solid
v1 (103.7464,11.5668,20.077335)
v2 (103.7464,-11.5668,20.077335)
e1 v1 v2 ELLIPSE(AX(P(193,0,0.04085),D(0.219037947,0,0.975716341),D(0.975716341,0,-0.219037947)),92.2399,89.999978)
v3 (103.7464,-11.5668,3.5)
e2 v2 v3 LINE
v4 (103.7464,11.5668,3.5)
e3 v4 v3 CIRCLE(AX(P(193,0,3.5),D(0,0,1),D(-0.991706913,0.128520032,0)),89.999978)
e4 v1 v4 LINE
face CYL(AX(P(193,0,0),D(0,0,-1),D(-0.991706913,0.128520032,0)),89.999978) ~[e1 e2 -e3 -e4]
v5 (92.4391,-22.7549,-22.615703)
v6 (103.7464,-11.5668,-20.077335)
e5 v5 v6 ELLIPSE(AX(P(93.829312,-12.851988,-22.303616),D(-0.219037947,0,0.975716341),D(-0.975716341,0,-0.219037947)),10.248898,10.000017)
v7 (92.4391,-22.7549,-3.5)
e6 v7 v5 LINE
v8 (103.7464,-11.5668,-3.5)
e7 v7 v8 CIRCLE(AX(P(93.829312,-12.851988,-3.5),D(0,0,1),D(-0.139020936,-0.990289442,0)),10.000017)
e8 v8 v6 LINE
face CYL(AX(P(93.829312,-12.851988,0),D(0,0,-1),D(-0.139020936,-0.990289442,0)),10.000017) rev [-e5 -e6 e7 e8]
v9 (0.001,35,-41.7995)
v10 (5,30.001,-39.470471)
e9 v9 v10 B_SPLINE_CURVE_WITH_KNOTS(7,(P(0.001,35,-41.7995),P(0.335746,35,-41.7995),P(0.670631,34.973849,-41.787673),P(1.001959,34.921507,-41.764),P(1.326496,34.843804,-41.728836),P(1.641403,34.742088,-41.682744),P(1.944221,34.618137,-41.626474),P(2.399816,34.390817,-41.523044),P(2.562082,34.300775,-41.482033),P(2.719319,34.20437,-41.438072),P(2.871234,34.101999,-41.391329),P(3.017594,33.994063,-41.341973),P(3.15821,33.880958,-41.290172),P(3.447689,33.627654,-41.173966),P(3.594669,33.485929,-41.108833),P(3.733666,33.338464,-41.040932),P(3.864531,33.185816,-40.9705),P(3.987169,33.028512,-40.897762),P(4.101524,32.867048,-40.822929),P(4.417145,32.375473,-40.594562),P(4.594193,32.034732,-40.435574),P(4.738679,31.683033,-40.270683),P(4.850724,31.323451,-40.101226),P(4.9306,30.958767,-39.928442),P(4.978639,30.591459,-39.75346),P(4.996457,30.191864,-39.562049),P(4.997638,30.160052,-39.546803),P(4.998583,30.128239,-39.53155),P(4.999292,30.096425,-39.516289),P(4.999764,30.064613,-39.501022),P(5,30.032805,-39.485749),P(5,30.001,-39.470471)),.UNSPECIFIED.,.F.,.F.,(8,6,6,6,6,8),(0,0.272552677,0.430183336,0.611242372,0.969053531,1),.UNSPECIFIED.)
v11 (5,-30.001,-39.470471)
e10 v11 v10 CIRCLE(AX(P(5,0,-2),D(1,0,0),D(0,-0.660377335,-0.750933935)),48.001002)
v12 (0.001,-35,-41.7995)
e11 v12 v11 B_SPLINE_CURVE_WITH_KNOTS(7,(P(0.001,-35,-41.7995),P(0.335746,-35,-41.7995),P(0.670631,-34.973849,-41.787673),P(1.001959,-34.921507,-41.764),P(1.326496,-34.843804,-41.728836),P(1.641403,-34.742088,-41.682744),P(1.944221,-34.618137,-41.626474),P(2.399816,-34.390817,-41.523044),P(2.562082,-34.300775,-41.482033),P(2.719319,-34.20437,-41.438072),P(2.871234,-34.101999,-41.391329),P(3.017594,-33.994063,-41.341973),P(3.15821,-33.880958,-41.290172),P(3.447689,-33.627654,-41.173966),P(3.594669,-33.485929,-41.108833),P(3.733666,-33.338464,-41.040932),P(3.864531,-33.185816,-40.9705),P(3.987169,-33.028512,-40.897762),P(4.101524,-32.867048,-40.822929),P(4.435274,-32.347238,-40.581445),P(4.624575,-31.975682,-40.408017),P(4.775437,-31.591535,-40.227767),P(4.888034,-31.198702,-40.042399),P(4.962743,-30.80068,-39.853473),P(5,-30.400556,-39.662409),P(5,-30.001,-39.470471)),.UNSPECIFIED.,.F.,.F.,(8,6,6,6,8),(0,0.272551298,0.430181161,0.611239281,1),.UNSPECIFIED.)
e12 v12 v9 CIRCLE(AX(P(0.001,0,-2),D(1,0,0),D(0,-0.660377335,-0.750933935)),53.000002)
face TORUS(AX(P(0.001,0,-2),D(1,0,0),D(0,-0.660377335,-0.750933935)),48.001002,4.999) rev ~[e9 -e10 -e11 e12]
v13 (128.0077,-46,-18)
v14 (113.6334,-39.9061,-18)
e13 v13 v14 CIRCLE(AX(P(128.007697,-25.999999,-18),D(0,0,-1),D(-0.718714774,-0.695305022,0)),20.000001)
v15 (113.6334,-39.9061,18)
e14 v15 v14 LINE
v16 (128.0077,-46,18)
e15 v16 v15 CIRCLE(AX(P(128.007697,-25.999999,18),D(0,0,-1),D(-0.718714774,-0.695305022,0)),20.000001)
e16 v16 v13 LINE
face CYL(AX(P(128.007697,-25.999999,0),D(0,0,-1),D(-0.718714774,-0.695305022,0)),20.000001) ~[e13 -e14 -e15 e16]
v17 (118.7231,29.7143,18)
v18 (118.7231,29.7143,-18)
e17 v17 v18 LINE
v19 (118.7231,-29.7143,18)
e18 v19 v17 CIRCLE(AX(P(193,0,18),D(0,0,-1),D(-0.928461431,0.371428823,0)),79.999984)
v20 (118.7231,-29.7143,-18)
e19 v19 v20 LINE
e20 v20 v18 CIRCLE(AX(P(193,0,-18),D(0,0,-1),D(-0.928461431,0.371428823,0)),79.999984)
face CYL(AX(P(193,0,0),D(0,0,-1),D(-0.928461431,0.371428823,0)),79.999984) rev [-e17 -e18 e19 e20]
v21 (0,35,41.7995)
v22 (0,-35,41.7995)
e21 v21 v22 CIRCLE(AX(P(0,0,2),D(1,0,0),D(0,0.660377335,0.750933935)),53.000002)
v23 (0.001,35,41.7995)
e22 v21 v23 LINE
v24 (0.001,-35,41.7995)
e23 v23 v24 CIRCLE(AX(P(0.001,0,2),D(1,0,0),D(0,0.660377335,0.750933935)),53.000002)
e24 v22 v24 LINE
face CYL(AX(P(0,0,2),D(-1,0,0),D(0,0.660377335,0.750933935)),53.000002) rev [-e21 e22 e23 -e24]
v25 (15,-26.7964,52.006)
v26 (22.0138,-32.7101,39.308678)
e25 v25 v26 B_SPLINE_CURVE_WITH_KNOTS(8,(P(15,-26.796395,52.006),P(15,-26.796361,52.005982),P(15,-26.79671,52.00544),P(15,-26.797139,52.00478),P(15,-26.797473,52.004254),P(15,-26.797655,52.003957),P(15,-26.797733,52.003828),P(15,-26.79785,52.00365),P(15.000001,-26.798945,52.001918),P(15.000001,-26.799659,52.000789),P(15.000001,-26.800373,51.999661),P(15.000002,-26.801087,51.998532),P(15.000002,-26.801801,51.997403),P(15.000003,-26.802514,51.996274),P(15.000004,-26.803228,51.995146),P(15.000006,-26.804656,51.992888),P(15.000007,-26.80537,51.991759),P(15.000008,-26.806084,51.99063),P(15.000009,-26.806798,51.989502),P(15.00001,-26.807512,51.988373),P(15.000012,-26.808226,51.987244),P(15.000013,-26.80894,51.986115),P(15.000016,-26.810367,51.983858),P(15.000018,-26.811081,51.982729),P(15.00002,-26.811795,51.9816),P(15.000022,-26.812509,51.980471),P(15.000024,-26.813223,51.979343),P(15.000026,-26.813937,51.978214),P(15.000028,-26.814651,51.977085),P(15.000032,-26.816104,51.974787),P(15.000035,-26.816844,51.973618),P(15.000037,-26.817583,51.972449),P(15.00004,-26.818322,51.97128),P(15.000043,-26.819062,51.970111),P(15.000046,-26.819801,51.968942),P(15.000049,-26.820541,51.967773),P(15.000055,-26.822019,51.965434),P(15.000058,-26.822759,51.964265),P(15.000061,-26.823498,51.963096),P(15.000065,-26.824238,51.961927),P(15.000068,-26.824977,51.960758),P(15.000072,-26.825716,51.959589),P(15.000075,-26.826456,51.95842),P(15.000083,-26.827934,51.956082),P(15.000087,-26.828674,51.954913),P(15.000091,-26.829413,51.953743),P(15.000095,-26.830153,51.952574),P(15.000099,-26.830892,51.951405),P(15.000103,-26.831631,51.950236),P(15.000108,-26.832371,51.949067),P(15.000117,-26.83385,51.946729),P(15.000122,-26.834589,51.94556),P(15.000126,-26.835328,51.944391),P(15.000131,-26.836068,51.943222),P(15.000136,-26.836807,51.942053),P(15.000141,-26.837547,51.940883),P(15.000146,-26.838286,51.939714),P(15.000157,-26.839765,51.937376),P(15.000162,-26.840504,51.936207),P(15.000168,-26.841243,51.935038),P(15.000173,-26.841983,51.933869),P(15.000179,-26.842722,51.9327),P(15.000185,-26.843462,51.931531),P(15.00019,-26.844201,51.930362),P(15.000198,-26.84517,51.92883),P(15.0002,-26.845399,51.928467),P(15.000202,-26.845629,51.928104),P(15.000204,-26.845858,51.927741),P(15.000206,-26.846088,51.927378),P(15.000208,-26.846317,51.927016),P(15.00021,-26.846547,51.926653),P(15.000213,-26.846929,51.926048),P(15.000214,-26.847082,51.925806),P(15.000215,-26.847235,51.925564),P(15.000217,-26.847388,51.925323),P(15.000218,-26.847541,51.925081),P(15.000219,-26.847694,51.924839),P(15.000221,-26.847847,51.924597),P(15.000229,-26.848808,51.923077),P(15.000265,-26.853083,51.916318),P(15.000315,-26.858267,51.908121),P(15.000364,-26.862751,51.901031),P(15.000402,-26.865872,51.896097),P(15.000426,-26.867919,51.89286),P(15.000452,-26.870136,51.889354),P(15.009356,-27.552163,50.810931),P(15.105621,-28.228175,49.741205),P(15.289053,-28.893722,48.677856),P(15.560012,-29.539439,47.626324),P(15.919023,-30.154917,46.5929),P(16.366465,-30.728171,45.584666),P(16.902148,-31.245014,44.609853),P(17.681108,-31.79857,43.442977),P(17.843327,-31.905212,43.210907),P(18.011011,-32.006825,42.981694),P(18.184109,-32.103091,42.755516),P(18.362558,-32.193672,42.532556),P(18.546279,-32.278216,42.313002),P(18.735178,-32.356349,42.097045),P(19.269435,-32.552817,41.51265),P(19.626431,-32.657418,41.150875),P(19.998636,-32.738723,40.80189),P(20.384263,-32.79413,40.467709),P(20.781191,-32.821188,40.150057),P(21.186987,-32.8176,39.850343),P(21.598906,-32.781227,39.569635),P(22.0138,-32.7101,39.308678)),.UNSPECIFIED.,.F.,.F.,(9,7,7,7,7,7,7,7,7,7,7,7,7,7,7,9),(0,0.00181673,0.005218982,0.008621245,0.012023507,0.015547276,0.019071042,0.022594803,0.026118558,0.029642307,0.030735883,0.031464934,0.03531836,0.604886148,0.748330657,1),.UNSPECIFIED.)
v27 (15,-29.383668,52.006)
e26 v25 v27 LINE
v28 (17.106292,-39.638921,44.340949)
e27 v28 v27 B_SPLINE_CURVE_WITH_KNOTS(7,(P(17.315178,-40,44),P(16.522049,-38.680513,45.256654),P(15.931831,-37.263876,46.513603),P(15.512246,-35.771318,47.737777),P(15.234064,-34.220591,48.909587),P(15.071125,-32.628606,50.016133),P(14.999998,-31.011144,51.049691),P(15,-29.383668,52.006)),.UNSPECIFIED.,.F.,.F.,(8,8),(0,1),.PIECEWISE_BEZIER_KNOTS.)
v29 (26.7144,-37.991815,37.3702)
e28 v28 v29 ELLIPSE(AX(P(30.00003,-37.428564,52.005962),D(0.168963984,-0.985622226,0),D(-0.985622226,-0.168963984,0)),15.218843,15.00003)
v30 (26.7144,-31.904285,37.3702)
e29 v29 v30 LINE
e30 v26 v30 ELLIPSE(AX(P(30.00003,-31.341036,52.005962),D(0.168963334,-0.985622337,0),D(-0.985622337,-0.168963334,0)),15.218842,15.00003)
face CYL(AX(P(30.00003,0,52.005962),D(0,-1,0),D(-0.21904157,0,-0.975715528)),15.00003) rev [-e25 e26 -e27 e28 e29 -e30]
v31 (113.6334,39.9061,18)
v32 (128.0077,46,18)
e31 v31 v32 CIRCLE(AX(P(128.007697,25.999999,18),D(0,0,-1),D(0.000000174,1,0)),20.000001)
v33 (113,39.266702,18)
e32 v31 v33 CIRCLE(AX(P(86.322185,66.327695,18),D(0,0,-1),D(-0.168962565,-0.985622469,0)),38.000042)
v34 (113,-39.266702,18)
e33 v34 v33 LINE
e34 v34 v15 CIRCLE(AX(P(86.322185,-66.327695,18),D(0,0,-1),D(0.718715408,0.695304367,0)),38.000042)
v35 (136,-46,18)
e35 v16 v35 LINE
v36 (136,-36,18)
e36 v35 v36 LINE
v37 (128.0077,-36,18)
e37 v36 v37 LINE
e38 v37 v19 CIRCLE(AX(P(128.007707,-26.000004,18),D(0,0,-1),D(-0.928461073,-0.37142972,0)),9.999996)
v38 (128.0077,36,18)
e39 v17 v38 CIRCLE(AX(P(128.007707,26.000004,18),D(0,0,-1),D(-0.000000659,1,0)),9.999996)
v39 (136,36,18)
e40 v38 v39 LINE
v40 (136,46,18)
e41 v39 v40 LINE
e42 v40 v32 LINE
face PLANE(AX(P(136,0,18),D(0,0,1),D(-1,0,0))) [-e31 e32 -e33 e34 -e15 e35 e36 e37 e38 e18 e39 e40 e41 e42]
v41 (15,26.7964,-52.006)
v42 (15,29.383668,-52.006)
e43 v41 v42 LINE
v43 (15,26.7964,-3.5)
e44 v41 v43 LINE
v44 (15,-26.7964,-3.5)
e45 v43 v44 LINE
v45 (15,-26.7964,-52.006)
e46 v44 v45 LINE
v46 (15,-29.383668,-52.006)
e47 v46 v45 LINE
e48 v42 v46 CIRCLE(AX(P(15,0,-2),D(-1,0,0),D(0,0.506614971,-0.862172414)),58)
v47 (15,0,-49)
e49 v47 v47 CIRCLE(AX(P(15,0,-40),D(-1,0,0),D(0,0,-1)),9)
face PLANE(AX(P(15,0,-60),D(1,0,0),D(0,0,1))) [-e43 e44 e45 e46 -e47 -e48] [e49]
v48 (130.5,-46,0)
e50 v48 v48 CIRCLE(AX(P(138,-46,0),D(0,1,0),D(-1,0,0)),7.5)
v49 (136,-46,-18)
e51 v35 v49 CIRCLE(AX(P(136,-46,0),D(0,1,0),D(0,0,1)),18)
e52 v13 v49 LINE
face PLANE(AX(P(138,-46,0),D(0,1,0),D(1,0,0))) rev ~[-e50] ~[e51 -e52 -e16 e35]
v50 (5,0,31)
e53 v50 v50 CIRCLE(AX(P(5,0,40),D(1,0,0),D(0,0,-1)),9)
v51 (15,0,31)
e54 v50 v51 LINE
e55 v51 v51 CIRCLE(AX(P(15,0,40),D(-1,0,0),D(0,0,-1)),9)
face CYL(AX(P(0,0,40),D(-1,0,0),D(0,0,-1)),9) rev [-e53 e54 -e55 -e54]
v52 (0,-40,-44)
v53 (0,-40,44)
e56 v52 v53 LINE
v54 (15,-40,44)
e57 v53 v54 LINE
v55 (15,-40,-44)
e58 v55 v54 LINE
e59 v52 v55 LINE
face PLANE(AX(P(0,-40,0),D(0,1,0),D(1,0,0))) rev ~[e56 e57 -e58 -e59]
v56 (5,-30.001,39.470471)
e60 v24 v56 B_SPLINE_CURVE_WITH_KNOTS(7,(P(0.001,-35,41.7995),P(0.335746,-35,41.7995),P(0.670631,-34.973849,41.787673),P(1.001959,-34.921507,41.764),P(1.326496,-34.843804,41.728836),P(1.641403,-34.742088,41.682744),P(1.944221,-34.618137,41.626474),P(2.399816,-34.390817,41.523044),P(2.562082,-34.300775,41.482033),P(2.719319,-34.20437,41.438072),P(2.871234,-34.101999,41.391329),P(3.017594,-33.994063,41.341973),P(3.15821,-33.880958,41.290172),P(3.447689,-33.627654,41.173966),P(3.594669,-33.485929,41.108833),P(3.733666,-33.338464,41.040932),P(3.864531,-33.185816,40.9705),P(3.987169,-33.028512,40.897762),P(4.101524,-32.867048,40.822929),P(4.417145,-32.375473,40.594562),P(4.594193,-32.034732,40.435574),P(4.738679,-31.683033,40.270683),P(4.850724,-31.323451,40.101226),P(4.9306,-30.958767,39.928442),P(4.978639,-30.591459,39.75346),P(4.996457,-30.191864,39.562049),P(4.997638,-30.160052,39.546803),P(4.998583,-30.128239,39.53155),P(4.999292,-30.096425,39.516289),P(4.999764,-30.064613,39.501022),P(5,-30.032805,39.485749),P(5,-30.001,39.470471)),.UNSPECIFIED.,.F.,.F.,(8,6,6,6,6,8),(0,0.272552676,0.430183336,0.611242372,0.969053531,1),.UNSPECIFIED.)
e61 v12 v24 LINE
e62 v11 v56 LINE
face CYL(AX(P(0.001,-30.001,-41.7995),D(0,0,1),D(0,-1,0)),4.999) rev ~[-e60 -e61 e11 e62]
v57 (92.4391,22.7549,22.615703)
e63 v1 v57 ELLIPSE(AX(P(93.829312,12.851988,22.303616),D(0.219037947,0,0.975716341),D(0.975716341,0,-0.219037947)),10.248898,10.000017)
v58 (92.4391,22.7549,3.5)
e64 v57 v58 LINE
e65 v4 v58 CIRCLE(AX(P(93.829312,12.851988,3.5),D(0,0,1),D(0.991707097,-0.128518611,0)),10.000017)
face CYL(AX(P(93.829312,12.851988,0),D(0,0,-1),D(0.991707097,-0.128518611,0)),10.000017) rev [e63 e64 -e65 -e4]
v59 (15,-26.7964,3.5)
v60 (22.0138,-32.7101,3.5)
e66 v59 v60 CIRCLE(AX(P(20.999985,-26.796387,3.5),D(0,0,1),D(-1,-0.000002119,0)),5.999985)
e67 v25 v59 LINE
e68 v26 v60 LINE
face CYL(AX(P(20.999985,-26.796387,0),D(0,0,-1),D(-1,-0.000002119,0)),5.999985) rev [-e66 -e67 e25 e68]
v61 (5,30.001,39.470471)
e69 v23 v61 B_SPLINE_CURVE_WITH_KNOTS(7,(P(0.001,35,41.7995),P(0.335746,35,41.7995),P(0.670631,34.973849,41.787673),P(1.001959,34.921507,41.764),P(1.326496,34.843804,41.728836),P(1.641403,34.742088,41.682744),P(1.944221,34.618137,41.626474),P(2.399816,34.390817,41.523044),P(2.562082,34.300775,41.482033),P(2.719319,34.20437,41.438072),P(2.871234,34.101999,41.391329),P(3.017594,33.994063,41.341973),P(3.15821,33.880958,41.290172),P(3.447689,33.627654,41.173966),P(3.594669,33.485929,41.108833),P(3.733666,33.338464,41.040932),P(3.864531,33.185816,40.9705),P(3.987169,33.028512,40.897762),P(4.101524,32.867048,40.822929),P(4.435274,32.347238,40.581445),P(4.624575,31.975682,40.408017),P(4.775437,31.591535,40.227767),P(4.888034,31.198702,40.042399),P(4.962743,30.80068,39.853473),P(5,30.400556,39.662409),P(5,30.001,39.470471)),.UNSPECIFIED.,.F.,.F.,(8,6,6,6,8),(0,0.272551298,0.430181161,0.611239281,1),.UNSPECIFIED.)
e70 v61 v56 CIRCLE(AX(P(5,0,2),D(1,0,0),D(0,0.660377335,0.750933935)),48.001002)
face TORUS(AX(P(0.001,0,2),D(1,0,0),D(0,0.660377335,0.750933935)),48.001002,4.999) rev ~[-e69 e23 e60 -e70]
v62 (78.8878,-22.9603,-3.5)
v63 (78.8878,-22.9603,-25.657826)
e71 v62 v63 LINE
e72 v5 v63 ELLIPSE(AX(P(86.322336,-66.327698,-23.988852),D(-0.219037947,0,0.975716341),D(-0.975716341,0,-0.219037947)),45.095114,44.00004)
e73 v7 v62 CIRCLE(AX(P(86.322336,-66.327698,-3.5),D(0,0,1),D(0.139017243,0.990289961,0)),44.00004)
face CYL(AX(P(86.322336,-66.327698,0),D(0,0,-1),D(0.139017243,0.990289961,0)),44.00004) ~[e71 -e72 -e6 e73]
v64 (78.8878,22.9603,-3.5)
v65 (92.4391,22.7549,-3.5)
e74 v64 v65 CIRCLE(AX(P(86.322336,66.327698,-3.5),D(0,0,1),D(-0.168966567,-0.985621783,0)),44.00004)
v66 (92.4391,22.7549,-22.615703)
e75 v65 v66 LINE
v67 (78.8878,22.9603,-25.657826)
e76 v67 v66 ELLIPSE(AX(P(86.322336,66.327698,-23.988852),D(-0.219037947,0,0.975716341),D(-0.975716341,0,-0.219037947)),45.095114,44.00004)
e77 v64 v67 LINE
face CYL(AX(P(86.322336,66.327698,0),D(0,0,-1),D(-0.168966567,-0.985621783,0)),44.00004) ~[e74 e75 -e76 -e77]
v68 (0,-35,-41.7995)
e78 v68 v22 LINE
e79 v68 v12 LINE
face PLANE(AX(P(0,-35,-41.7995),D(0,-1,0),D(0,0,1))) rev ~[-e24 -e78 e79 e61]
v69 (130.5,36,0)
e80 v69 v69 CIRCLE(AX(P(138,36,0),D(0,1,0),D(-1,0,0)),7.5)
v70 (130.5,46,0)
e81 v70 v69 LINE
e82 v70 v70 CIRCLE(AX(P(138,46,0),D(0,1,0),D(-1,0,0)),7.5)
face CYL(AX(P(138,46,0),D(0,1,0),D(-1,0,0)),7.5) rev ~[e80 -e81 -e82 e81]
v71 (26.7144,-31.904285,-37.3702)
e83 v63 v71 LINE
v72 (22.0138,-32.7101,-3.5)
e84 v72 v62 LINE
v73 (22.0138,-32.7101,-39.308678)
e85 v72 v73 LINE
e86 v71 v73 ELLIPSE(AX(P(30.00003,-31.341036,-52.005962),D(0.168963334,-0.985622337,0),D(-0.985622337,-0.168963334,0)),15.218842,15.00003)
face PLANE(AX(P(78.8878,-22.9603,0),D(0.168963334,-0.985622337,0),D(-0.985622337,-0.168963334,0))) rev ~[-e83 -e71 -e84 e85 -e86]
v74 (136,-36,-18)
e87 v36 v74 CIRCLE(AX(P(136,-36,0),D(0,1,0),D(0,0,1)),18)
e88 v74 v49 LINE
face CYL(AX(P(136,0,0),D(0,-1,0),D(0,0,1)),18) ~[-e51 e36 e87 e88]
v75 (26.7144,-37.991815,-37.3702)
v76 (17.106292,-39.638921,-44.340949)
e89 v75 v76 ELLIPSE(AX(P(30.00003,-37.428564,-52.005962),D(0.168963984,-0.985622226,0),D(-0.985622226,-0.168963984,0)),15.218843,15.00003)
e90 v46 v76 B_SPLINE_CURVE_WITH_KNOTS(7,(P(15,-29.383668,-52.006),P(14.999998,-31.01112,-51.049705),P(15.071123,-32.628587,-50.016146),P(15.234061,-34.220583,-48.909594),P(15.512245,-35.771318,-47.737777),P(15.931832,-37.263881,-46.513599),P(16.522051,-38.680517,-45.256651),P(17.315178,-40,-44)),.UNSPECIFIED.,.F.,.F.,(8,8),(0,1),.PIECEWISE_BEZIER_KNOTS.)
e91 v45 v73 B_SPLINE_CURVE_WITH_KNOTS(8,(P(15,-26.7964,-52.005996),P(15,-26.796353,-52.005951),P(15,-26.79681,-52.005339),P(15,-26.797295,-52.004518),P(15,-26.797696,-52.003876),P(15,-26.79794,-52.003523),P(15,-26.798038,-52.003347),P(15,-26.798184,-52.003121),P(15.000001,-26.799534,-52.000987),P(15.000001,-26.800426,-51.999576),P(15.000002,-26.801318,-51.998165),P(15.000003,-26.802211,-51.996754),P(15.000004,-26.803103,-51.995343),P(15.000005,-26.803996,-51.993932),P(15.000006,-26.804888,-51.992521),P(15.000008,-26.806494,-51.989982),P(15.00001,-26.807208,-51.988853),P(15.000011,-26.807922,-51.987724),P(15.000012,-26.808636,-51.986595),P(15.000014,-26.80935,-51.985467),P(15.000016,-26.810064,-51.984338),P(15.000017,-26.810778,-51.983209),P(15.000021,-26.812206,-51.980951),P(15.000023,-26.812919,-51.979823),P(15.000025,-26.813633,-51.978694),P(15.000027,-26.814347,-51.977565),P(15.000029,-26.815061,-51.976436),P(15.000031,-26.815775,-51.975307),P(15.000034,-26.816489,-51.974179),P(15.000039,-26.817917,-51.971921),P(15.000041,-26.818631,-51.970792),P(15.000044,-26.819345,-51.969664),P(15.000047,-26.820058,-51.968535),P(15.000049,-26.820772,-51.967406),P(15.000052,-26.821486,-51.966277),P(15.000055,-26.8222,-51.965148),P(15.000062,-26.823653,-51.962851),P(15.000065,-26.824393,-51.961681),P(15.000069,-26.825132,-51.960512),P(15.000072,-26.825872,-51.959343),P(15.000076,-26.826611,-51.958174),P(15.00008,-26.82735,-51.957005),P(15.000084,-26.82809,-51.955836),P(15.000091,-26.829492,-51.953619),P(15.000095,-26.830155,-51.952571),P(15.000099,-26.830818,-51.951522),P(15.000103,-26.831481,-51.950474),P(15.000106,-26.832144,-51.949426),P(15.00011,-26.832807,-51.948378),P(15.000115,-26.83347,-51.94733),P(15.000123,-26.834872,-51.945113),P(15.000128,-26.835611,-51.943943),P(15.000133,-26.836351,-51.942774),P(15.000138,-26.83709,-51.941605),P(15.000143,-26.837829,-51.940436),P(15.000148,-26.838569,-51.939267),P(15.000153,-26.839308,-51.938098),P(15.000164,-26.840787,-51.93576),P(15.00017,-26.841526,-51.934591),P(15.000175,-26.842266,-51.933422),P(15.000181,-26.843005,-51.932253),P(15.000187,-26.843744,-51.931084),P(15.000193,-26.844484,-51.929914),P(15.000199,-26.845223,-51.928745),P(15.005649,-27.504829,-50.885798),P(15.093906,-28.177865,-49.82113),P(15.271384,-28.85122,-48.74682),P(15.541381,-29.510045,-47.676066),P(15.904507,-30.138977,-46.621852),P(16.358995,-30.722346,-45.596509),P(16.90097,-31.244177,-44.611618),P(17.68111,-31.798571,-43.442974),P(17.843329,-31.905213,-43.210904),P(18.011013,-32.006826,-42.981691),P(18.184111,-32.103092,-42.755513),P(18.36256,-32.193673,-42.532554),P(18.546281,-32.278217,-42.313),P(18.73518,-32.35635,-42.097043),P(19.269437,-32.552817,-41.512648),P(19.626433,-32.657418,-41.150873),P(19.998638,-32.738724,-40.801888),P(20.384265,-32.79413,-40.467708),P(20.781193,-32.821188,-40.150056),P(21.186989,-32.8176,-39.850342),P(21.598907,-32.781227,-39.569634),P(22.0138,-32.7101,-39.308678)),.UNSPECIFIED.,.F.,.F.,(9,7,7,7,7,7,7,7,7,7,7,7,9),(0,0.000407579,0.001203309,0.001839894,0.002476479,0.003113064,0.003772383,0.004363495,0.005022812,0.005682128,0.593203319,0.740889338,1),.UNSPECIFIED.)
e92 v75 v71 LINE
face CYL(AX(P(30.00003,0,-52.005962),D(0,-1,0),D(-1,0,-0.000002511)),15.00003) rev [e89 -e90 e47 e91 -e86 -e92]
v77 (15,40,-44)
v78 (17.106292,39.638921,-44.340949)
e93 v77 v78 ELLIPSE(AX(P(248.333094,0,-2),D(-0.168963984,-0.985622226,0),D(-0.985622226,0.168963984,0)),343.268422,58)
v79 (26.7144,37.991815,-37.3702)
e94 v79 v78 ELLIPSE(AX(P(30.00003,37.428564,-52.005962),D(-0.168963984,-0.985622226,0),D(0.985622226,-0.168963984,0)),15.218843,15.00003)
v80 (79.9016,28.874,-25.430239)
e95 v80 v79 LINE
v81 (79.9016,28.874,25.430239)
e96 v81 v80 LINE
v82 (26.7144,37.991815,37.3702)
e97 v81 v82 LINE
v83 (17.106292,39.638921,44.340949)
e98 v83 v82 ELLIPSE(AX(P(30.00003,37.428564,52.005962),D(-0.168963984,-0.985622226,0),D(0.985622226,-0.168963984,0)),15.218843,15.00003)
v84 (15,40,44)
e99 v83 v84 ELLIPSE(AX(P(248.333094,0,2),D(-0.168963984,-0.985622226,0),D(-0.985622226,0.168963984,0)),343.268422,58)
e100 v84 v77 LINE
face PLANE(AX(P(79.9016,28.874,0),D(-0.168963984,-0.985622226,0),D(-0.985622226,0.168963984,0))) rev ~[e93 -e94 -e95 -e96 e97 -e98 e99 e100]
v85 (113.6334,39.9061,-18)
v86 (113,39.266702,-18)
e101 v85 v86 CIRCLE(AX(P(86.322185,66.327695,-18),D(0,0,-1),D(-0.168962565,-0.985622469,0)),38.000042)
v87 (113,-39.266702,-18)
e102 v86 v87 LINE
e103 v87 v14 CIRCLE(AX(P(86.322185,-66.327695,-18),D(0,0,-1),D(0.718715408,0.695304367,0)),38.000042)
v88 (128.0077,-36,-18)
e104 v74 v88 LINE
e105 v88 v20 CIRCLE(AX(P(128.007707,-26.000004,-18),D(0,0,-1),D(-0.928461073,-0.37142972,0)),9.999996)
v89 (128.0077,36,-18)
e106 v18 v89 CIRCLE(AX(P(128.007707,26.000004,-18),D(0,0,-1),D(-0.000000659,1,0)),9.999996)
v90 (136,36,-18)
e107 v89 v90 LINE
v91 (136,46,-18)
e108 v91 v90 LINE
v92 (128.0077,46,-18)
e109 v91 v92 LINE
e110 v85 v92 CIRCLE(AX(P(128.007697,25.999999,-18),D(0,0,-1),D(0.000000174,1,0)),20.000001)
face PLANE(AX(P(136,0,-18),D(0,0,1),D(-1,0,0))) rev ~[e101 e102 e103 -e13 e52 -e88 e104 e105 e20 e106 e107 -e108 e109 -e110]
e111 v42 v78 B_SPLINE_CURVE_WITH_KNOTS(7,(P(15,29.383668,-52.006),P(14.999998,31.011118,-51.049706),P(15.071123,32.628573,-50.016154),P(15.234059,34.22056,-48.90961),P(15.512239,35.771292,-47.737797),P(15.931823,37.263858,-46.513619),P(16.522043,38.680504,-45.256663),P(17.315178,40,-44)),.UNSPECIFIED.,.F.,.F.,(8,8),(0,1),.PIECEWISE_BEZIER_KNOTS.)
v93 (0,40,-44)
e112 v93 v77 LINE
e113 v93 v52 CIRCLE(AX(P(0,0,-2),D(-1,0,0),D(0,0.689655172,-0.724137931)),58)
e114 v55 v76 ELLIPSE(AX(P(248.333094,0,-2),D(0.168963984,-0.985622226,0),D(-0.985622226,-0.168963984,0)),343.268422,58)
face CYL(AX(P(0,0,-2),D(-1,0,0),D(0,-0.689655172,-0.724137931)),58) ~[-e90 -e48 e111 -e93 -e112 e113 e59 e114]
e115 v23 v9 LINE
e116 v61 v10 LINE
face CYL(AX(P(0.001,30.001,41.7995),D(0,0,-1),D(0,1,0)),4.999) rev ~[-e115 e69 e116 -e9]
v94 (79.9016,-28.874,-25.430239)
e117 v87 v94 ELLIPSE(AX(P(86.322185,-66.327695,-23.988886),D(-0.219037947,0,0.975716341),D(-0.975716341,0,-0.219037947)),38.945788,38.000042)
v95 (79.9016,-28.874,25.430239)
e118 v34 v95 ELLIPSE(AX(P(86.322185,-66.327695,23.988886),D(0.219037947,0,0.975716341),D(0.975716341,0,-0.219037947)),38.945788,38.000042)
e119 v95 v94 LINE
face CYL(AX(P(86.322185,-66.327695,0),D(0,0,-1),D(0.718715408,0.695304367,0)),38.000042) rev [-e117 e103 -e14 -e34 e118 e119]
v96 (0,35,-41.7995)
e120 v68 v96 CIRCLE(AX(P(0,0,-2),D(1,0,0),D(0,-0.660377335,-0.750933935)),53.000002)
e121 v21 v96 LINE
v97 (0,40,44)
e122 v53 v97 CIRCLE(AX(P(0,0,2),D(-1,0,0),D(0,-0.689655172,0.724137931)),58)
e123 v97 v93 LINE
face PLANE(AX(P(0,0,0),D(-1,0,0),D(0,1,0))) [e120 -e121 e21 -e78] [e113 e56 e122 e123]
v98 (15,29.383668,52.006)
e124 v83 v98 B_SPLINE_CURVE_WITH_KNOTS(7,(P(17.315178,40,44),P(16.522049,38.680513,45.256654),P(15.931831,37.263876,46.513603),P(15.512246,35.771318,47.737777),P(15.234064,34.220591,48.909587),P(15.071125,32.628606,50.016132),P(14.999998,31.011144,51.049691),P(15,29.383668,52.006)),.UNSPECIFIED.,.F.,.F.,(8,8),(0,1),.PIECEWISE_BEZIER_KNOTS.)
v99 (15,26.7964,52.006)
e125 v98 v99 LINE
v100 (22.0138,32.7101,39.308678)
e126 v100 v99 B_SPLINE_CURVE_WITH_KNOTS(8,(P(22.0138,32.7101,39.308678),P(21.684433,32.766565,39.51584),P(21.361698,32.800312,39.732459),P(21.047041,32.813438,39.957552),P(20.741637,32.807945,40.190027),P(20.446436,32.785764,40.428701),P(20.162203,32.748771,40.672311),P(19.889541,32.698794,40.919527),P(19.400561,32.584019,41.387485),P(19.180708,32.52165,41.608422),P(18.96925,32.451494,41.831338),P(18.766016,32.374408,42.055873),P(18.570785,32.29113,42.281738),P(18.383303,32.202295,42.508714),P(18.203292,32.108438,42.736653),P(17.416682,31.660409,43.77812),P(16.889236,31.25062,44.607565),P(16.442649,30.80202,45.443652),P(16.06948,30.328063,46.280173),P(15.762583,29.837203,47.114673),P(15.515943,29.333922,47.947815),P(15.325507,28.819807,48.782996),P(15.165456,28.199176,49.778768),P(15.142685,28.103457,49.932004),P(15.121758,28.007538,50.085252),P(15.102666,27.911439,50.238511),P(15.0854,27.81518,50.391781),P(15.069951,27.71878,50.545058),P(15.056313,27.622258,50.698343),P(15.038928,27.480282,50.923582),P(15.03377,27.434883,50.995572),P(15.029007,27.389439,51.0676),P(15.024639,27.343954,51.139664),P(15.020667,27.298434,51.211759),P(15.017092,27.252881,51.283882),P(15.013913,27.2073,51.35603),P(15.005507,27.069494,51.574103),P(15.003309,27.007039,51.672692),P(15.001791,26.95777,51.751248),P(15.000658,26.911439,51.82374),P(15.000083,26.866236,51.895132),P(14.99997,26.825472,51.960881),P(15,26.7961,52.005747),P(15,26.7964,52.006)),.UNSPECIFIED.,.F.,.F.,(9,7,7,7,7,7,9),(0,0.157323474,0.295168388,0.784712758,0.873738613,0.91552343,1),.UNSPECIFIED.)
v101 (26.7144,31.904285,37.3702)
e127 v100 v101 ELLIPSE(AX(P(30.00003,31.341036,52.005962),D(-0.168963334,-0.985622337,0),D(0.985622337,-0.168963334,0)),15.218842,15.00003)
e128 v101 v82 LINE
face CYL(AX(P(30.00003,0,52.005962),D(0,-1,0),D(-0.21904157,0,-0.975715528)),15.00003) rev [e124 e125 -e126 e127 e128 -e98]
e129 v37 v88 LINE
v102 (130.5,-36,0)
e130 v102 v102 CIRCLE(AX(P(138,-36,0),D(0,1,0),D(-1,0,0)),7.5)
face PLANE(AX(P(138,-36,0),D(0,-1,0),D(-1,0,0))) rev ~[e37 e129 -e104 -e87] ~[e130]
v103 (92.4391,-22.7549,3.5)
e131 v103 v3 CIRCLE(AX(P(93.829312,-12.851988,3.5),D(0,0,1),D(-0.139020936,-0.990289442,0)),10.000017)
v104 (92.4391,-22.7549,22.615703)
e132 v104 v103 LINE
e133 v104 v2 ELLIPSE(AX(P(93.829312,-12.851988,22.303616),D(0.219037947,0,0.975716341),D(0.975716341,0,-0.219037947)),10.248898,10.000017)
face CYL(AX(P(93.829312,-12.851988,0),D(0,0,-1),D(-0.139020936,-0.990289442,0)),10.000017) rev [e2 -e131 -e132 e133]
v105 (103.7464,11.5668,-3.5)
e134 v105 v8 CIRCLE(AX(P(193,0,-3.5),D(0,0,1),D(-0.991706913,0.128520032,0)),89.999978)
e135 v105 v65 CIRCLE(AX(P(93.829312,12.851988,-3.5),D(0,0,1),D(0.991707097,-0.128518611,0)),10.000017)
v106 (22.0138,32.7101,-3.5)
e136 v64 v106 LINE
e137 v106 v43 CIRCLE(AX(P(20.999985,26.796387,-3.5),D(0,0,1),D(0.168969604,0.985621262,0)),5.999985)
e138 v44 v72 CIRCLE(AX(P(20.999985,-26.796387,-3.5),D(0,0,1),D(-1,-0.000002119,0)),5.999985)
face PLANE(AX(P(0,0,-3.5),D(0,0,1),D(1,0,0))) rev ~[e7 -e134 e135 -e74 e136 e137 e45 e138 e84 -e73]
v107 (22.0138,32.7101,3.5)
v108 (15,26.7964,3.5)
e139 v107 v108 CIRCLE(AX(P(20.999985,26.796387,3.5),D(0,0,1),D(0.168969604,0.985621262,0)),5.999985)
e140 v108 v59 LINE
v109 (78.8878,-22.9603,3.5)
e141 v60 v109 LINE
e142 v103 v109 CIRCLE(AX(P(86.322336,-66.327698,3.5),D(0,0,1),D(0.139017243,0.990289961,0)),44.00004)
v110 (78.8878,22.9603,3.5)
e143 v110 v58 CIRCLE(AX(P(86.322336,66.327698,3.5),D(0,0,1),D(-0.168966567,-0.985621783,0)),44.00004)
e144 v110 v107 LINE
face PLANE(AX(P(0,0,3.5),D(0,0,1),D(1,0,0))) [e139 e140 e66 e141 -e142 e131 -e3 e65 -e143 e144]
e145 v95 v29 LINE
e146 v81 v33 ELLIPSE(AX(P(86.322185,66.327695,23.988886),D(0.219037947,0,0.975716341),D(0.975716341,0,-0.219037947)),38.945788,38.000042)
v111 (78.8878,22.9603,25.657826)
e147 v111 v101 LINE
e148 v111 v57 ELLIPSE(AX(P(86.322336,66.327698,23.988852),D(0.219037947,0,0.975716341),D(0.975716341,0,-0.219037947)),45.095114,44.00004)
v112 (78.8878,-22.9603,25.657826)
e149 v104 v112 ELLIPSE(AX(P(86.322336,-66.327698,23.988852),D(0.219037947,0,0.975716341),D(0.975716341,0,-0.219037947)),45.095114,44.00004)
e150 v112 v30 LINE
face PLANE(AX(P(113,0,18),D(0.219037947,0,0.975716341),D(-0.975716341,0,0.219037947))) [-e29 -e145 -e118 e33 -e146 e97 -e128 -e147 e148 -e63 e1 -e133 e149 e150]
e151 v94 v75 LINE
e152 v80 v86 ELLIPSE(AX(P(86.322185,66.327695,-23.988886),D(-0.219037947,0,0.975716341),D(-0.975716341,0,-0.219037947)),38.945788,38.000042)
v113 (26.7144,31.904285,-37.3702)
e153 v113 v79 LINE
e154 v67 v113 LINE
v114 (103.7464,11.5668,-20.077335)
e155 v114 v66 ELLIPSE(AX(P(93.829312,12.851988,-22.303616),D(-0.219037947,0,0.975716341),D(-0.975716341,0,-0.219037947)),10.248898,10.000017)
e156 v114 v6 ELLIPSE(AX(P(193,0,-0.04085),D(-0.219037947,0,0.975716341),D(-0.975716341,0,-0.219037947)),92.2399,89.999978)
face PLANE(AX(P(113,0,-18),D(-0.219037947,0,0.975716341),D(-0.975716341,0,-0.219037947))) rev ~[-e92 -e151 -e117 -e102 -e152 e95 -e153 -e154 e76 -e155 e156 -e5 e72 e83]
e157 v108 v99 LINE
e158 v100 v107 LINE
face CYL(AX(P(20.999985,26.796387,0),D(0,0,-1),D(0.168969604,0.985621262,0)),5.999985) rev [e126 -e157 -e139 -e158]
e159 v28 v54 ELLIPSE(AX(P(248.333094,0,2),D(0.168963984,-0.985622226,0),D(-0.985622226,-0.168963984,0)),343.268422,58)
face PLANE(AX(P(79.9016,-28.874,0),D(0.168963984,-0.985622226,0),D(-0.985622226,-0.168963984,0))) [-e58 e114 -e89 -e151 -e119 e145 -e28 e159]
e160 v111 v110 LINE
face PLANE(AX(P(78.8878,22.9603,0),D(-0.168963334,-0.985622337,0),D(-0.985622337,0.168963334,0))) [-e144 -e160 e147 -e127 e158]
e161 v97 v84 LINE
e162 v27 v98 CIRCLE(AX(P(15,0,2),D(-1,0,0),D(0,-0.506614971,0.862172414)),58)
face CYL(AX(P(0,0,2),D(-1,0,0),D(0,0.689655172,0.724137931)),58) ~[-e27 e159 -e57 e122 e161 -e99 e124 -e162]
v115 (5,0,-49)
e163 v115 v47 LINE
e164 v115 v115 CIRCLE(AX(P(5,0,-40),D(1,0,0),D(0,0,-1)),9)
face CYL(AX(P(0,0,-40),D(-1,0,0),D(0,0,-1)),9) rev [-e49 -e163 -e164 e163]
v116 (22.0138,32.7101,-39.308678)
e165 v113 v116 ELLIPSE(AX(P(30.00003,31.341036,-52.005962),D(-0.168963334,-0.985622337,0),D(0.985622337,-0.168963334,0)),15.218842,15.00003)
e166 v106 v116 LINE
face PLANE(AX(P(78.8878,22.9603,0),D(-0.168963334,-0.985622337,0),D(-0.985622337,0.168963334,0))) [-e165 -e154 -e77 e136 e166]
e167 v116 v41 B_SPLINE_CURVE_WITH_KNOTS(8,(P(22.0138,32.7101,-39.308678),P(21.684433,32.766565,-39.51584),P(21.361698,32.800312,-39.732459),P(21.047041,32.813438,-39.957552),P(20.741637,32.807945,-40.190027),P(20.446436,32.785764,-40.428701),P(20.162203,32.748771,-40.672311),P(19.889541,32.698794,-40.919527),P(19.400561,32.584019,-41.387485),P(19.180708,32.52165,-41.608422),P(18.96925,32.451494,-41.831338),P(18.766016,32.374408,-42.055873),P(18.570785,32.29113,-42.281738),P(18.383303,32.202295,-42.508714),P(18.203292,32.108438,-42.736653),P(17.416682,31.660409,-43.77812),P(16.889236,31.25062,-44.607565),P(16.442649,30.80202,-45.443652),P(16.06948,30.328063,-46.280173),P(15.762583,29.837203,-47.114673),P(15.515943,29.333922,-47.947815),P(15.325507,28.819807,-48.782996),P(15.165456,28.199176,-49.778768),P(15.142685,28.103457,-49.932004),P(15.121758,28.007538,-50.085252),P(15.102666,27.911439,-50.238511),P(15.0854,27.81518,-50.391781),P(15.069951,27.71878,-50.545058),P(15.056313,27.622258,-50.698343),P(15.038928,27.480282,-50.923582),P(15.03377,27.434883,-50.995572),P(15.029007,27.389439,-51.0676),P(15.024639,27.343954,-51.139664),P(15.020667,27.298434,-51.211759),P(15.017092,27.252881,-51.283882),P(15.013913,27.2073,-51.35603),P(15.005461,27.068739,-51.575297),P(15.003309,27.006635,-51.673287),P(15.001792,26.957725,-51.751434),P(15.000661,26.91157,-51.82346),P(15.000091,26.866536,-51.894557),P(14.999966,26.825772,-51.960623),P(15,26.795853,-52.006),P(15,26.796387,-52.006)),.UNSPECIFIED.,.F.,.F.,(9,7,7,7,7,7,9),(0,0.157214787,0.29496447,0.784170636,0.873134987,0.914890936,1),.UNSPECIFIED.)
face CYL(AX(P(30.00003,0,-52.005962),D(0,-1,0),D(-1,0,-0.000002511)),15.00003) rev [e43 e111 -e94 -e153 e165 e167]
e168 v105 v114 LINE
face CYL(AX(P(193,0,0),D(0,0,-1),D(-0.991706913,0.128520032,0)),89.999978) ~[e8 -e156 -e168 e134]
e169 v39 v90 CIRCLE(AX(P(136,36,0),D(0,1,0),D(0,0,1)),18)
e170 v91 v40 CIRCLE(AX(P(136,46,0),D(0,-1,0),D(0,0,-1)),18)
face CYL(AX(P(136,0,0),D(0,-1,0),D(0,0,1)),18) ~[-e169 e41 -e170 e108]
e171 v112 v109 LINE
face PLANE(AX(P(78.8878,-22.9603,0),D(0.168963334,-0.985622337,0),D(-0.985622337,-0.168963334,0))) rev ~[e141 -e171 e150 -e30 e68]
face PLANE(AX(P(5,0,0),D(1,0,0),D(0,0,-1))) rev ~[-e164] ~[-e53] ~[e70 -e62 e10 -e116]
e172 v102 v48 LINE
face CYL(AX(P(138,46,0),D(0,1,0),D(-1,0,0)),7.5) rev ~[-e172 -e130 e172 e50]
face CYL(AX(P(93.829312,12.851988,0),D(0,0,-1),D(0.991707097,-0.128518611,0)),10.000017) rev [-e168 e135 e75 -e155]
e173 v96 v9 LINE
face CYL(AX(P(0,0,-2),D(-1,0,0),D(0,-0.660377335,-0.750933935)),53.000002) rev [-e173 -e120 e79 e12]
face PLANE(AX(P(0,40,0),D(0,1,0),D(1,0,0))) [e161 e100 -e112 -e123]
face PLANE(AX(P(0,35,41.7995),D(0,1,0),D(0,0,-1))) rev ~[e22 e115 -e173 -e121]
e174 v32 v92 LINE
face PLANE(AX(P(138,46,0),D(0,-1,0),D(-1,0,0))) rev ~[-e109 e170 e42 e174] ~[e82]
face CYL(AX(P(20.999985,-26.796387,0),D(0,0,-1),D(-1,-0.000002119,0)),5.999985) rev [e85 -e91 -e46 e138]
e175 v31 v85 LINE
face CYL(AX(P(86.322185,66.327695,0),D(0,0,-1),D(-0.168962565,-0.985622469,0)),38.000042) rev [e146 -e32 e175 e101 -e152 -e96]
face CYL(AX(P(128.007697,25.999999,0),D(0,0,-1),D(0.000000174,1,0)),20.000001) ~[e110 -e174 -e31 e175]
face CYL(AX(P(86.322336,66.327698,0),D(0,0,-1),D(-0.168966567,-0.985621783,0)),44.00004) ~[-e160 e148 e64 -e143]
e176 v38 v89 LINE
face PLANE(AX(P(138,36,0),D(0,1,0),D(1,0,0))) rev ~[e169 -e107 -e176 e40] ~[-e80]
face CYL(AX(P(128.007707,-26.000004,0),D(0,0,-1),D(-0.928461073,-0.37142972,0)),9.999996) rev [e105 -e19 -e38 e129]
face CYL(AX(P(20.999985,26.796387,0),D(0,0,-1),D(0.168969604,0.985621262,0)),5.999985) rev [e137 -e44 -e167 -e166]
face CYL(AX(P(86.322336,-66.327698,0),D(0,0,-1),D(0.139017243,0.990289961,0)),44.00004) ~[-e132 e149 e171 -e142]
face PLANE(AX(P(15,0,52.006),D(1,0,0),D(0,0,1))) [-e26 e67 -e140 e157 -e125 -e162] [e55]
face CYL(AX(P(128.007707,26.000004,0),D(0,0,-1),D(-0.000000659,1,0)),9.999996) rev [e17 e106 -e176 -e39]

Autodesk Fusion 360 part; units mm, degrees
sketch "Sketch1" plane through (0, 0, 0) normal (0, 0, 1) x (1, 0, 0)
  line L0 (0, 0) -> (0, 40)
  line L1 (0, 40) -> (15, 40)
  line L2 (0, 0) -> (0, -40)
  line L3 (0, -40) -> (15, -40)
  line L4 (15, 26.7964) -> (15, -26.7964)
  line L5 (15, 0) -> (85, 0) construction
  line L6 (85, 0) -> (85, 22) construction
  line L7 (85, 0) -> (85, -22) construction
  line L8 (79.9016, 28.874) -> (15, 40)
  line L9 (138, 0) -> (138, 68.5674) construction
  line L10 (113, 0) -> (113, 68.5674) construction
  line L11 (138, 46) -> (154, 46)
  line L12 (138, 36) -> (154, 36)
  line L13 (154, 46) -> (154, 36)
  line L14 (138, -36) -> (128.0077, -36)
  line L15 (138, -46) -> (154, -46)
  line L16 (138, -36) -> (154, -36)
  line L17 (154, -46) -> (154, -36)
  arc A0 (118.7231, 29.7143) -> (118.7231, -29.7143) centre (193, 0) ccw
  line L18 (138, 36) -> (128.0077, 36)
  arc A1 (128.0077, 36) -> (118.7231, 29.7143) centre (128.0077, 26) ccw
  arc A2 (118.7231, -29.7143) -> (128.0077, -36) centre (128.0077, -26) ccw
  arc A3 (128.0077, 46) -> (113.6334, 39.9061) centre (128.0077, 26) ccw
  line L19 (138, 46) -> (128.0077, 46)
  arc A4 (79.9016, 28.874) -> (113.6334, 39.9061) centre (86.3222, 66.3277) ccw
  line L20 (79.9016, -28.874) -> (15, -40)
  arc A5 (113.6334, -39.9061) -> (79.9016, -28.874) centre (86.3222, -66.3277) ccw
  arc A6 (113.6334, -39.9061) -> (128.0077, -46) centre (128.0077, -26) ccw
  line L21 (138, -46) -> (128.0077, -46)
  line L22 (78.8878, 22.9603) -> (22.0138, 32.7101)
  line L23 (78.8878, -22.9603) -> (22.0138, -32.7101)
  arc A7 (15, -26.7964) -> (22.0138, -32.7101) centre (21, -26.7964) ccw
  arc A8 (22.0138, 32.7101) -> (15, 26.7964) centre (21, 26.7964) ccw
  arc A9 (103.7464, 11.5668) -> (103.7464, -11.5668) centre (193, 0) ccw
  arc A10 (92.4391, -22.7549) -> (78.8878, -22.9603) centre (86.3222, -66.3277) ccw
  arc A11 (78.8878, 22.9603) -> (92.4391, 22.7549) centre (86.3222, 66.3277) ccw
  arc A12 (103.7464, 11.5668) -> (92.4391, 22.7549) centre (93.8293, 12.852) ccw
  arc A13 (92.4391, -22.7549) -> (103.7464, -11.5668) centre (93.8293, -12.852) ccw
  dimension "d1" = 40
  dimension "d2" = 15
  dimension "d3" = 40
  dimension "d4" = 15
  dimension "d5" = 70
  dimension "d6" = 22
  dimension "d7" = 22
  dimension "d10" = 138
  dimension "d11" = 36
  dimension "d13" = 25
  dimension "d14" = 16
  dimension "d15" = 16
  dimension "d16" = 160
  dimension "d17" = 10
  dimension "d18" = 10
  dimension "d20" = 38
  dimension "d23" = 6
  dimension "d24" = 6
  dimension "d28" = 10
  dimension "d29" = 10
extrude "Extrude1" add sketch "Sketch1" along normal mid plane 120
sketch "Sketch2" plane through (0, 0, 0) normal (0, 0, 1) x (1, 0, 0)
  line L0 (15, 26.7964) -> (15, -26.7964)
  line L1 (15, -26.7964) -> (15, 26.7964)
  arc A0 (22.0138, 32.7101) -> (15, 26.7964) centre (21, 26.7964) ccw
  arc A1 (22.0138, 32.7101) -> (15, 26.7964) centre (21, 26.7964) ccw
  line L2 (78.8878, 22.9603) -> (22.0138, 32.7101)
  line L3 (22.0138, 32.7101) -> (78.8878, 22.9603)
  arc A2 (78.8878, 22.9603) -> (92.4391, 22.7549) centre (86.3222, 66.3277) ccw
  arc A3 (78.8878, 22.9603) -> (92.4391, 22.7549) centre (86.3222, 66.3277) ccw
  arc A4 (103.7464, 11.5668) -> (92.4391, 22.7549) centre (93.8293, 12.852) ccw
  arc A5 (103.7464, 11.5668) -> (92.4391, 22.7549) centre (93.8293, 12.852) ccw
  arc A6 (103.7464, 11.5668) -> (103.7464, -11.5668) centre (193, 0) ccw
  arc A7 (103.7464, 11.5668) -> (103.7464, -11.5668) centre (193, 0) ccw
  arc A8 (92.4391, -22.7549) -> (103.7464, -11.5668) centre (93.8293, -12.852) ccw
  arc A9 (92.4391, -22.7549) -> (103.7464, -11.5668) centre (93.8293, -12.852) ccw
  arc A10 (92.4391, -22.7549) -> (78.8878, -22.9603) centre (86.3222, -66.3277) ccw
  arc A11 (92.4391, -22.7549) -> (78.8878, -22.9603) centre (86.3222, -66.3277) ccw
  line L4 (22.0138, -32.7101) -> (78.8878, -22.9603)
  line L5 (78.8878, -22.9603) -> (22.0138, -32.7101)
  arc A12 (15, -26.7964) -> (22.0138, -32.7101) centre (21, -26.7964) ccw
  arc A13 (15, -26.7964) -> (22.0138, -32.7101) centre (21, -26.7964) ccw
extrude "Extrude2" add sketch "Sketch2" along normal mid plane 7
sketch "Sketch3" plane through (0, 0, 0) normal (0, 1, 0) x (1, 0, 0)
  line L0 (128.0077, 60) -> (128.0077, -60) construction
  line L1 (128.0077, -60) -> (154, -60) construction
  line L2 (154, -60) -> (154, 60) construction
  line L3 (154, 60) -> (128.0077, 60) construction
  line L4 (113.6334, 60) -> (113.6334, -60) construction
  line L5 (113.6334, -60) -> (128.0077, -60) construction
  line L6 (128.0077, -60) -> (128.0077, 60) construction
  line L7 (128.0077, 60) -> (113.6334, 60) construction
  line L8 (79.9016, 60) -> (79.9016, -60) construction
  line L9 (113.6334, -60) -> (79.9016, -60) construction
  line L10 (113.6334, -60) -> (113.6334, 60) construction
  line L11 (79.9016, 60) -> (113.6334, 60) construction
  line L12 (15, 60) -> (15, -60) construction
  line L13 (15, -60) -> (79.9016, -60) construction
  line L14 (79.9016, -60) -> (79.9016, 60) construction
  line L15 (79.9016, 60) -> (15, 60) construction
  line L16 (0, 60) -> (0, -60)
  line L17 (0, -60) -> (15, -60)
  line L18 (15, -60) -> (15, 60) construction
  line L19 (15, 60) -> (0, 60)
  line L20 (154, 0) -> (0, 0) construction
  line L21 (136, 0) -> (136, 18) construction
  line L22 (136, 0) -> (136, -18) construction
  arc A0 (136, -18) -> (136, 18) centre (136, 0) ccw
  line L23 (136, 18) -> (113, 18)
  line L24 (136, -18) -> (113, -18)
  line L25 (154, 40) -> (0, 40) construction
  line L26 (154, -40) -> (0, -40) construction
  line L27 (113, 18) -> (26.7144, 37.3702)
  line L28 (113, -18) -> (26.7144, -37.3702)
  line L29 (15, 60) -> (15, 52.006)
  line L30 (15, -52.006) -> (15, -60)
  arc A1 (15, 52.006) -> (26.7144, 37.3702) centre (30, 52.006) ccw
  arc A2 (26.7144, -37.3702) -> (15, -52.006) centre (30, -52.006) ccw
  line L31 (15, 60) -> (154, 60)
  line L32 (154, 60) -> (154, 0)
  line L33 (154, 0) -> (154, -60)
  line L34 (154, -60) -> (15, -60)
  dimension "d34" = 36
  dimension "d35" = 23
  dimension "d36" = 23
  dimension "d37" = 40
  dimension "d38" = 40
  dimension "d39" = 15
  dimension "d40" = 15
extrude "Extrude3" cut sketch "Sketch3" along normal through all and the other way through all contours A0 L23 L27 L29 A1 L31 L32 | A0 L24 L28 L30 A2 L33 L34
sketch "Sketch4" plane through (0, 46, 0) normal (0, 1, 0) x (-1, 0, 0)
  line L0 (-128.0077, 18) -> (-136, 18)
  arc A0 (-136, 18) -> (-136, -18) centre (-136, 0) ccw
  line L1 (-136, -18) -> (-128.0077, -18)
  line L2 (-128.0077, -18) -> (-128.0077, 18)
  line L3 (-136, 18) -> (-128.0077, 18)
  line L4 (-128.0077, 18) -> (-128.0077, -18)
  line L5 (-128.0077, -18) -> (-136, -18)
  arc A1 (-136, 18) -> (-136, -18) centre (-136, 0) ccw
  line L6 (-136, -18) -> (-136, 18) construction
  line L7 (-138, -18) -> (-138, 18) construction
  circle A2 centre (-138, 0) radius 7.5
  dimension "d43" = 2
  dimension "d44" = 15
extrude "Extrude4" cut sketch "Sketch4" against normal through all contours A2
sketch "Sketch5" plane through (0, 0, 0) normal (1, 0, 0) x (0, 0, -1)
  line L0 (60, -40) -> (-60, -40) construction
  line L1 (-60, -40) -> (-60, 40) construction
  line L2 (-60, 40) -> (60, 40) construction
  line L3 (60, 40) -> (60, -40) construction
  line L4 (60, 0) -> (-60, 0) construction
  circle A0 centre (-40, 0) radius 9
  line L5 (0, 40) -> (0, -40) construction
  circle A1 centre (40, 0) radius 9
  dimension "d49" = 18
  dimension "d50" = 40
extrude "Extrude5" cut sketch "Sketch5" along normal through all
sketch "Sketch6" plane through (0, 0, 0) normal (1, 0, 0) x (0, 0, -1)
  circle A0 centre (40, 0) radius 9 construction
  circle A1 centre (-40, 0) radius 9 construction
  line L0 (60, -40) -> (-60, -40) construction
  line L1 (-60, -40) -> (-60, 40) construction
  line L2 (-60, 40) -> (60, 40) construction
  line L3 (60, 40) -> (60, -40) construction
  arc A2 (44, -40) -> (44, 40) centre (2, 0) ccw
  line L4 (44, 40) -> (60, 40)
  line L5 (44, -40) -> (60, -40)
  line L6 (60, 40) -> (60, -40)
  line L7 (0, 40) -> (0, -40) construction
  arc A3 (-44, 40) -> (-44, -40) centre (-2, 0) ccw
  line L8 (-44, 40) -> (-60, 40)
  line L9 (-60, 40) -> (-60, -40)
  line L10 (-44, -40) -> (-60, -40)
extrude "Extrude6" cut sketch "Sketch6" along normal through all
sketch "Sketch7" plane through (0, 0, 0) normal (1, 0, 0) x (0, 0, -1)
  arc A0 (-44, 40) -> (-44, -40) centre (-2, 0) ccw construction
  line L0 (-44, 40) -> (44, 40) construction
  arc A1 (44, -40) -> (44, 40) centre (2, 0) ccw construction
  line L1 (44, -40) -> (-44, -40) construction
  circle A2 centre (40, 0) radius 9
  circle A3 centre (-40, 0) radius 9
  arc A4 (41.7995, -35) -> (41.7995, 35) centre (2, 0) ccw
  line L2 (-41.7995, 35) -> (41.7995, 35)
  arc A5 (-41.7995, 35) -> (-41.7995, -35) centre (-2, 0) ccw
  line L3 (41.7995, -35) -> (-41.7995, -35)
  dimension "d54" = 5
extrude "Extrude7" cut sketch "Sketch7" along normal blind 5
fillet "Fillet1" radius 5 4 edges at (5, 0, -55) (5, 35, 0) (5, -35, 0) (5, 0, 55)
